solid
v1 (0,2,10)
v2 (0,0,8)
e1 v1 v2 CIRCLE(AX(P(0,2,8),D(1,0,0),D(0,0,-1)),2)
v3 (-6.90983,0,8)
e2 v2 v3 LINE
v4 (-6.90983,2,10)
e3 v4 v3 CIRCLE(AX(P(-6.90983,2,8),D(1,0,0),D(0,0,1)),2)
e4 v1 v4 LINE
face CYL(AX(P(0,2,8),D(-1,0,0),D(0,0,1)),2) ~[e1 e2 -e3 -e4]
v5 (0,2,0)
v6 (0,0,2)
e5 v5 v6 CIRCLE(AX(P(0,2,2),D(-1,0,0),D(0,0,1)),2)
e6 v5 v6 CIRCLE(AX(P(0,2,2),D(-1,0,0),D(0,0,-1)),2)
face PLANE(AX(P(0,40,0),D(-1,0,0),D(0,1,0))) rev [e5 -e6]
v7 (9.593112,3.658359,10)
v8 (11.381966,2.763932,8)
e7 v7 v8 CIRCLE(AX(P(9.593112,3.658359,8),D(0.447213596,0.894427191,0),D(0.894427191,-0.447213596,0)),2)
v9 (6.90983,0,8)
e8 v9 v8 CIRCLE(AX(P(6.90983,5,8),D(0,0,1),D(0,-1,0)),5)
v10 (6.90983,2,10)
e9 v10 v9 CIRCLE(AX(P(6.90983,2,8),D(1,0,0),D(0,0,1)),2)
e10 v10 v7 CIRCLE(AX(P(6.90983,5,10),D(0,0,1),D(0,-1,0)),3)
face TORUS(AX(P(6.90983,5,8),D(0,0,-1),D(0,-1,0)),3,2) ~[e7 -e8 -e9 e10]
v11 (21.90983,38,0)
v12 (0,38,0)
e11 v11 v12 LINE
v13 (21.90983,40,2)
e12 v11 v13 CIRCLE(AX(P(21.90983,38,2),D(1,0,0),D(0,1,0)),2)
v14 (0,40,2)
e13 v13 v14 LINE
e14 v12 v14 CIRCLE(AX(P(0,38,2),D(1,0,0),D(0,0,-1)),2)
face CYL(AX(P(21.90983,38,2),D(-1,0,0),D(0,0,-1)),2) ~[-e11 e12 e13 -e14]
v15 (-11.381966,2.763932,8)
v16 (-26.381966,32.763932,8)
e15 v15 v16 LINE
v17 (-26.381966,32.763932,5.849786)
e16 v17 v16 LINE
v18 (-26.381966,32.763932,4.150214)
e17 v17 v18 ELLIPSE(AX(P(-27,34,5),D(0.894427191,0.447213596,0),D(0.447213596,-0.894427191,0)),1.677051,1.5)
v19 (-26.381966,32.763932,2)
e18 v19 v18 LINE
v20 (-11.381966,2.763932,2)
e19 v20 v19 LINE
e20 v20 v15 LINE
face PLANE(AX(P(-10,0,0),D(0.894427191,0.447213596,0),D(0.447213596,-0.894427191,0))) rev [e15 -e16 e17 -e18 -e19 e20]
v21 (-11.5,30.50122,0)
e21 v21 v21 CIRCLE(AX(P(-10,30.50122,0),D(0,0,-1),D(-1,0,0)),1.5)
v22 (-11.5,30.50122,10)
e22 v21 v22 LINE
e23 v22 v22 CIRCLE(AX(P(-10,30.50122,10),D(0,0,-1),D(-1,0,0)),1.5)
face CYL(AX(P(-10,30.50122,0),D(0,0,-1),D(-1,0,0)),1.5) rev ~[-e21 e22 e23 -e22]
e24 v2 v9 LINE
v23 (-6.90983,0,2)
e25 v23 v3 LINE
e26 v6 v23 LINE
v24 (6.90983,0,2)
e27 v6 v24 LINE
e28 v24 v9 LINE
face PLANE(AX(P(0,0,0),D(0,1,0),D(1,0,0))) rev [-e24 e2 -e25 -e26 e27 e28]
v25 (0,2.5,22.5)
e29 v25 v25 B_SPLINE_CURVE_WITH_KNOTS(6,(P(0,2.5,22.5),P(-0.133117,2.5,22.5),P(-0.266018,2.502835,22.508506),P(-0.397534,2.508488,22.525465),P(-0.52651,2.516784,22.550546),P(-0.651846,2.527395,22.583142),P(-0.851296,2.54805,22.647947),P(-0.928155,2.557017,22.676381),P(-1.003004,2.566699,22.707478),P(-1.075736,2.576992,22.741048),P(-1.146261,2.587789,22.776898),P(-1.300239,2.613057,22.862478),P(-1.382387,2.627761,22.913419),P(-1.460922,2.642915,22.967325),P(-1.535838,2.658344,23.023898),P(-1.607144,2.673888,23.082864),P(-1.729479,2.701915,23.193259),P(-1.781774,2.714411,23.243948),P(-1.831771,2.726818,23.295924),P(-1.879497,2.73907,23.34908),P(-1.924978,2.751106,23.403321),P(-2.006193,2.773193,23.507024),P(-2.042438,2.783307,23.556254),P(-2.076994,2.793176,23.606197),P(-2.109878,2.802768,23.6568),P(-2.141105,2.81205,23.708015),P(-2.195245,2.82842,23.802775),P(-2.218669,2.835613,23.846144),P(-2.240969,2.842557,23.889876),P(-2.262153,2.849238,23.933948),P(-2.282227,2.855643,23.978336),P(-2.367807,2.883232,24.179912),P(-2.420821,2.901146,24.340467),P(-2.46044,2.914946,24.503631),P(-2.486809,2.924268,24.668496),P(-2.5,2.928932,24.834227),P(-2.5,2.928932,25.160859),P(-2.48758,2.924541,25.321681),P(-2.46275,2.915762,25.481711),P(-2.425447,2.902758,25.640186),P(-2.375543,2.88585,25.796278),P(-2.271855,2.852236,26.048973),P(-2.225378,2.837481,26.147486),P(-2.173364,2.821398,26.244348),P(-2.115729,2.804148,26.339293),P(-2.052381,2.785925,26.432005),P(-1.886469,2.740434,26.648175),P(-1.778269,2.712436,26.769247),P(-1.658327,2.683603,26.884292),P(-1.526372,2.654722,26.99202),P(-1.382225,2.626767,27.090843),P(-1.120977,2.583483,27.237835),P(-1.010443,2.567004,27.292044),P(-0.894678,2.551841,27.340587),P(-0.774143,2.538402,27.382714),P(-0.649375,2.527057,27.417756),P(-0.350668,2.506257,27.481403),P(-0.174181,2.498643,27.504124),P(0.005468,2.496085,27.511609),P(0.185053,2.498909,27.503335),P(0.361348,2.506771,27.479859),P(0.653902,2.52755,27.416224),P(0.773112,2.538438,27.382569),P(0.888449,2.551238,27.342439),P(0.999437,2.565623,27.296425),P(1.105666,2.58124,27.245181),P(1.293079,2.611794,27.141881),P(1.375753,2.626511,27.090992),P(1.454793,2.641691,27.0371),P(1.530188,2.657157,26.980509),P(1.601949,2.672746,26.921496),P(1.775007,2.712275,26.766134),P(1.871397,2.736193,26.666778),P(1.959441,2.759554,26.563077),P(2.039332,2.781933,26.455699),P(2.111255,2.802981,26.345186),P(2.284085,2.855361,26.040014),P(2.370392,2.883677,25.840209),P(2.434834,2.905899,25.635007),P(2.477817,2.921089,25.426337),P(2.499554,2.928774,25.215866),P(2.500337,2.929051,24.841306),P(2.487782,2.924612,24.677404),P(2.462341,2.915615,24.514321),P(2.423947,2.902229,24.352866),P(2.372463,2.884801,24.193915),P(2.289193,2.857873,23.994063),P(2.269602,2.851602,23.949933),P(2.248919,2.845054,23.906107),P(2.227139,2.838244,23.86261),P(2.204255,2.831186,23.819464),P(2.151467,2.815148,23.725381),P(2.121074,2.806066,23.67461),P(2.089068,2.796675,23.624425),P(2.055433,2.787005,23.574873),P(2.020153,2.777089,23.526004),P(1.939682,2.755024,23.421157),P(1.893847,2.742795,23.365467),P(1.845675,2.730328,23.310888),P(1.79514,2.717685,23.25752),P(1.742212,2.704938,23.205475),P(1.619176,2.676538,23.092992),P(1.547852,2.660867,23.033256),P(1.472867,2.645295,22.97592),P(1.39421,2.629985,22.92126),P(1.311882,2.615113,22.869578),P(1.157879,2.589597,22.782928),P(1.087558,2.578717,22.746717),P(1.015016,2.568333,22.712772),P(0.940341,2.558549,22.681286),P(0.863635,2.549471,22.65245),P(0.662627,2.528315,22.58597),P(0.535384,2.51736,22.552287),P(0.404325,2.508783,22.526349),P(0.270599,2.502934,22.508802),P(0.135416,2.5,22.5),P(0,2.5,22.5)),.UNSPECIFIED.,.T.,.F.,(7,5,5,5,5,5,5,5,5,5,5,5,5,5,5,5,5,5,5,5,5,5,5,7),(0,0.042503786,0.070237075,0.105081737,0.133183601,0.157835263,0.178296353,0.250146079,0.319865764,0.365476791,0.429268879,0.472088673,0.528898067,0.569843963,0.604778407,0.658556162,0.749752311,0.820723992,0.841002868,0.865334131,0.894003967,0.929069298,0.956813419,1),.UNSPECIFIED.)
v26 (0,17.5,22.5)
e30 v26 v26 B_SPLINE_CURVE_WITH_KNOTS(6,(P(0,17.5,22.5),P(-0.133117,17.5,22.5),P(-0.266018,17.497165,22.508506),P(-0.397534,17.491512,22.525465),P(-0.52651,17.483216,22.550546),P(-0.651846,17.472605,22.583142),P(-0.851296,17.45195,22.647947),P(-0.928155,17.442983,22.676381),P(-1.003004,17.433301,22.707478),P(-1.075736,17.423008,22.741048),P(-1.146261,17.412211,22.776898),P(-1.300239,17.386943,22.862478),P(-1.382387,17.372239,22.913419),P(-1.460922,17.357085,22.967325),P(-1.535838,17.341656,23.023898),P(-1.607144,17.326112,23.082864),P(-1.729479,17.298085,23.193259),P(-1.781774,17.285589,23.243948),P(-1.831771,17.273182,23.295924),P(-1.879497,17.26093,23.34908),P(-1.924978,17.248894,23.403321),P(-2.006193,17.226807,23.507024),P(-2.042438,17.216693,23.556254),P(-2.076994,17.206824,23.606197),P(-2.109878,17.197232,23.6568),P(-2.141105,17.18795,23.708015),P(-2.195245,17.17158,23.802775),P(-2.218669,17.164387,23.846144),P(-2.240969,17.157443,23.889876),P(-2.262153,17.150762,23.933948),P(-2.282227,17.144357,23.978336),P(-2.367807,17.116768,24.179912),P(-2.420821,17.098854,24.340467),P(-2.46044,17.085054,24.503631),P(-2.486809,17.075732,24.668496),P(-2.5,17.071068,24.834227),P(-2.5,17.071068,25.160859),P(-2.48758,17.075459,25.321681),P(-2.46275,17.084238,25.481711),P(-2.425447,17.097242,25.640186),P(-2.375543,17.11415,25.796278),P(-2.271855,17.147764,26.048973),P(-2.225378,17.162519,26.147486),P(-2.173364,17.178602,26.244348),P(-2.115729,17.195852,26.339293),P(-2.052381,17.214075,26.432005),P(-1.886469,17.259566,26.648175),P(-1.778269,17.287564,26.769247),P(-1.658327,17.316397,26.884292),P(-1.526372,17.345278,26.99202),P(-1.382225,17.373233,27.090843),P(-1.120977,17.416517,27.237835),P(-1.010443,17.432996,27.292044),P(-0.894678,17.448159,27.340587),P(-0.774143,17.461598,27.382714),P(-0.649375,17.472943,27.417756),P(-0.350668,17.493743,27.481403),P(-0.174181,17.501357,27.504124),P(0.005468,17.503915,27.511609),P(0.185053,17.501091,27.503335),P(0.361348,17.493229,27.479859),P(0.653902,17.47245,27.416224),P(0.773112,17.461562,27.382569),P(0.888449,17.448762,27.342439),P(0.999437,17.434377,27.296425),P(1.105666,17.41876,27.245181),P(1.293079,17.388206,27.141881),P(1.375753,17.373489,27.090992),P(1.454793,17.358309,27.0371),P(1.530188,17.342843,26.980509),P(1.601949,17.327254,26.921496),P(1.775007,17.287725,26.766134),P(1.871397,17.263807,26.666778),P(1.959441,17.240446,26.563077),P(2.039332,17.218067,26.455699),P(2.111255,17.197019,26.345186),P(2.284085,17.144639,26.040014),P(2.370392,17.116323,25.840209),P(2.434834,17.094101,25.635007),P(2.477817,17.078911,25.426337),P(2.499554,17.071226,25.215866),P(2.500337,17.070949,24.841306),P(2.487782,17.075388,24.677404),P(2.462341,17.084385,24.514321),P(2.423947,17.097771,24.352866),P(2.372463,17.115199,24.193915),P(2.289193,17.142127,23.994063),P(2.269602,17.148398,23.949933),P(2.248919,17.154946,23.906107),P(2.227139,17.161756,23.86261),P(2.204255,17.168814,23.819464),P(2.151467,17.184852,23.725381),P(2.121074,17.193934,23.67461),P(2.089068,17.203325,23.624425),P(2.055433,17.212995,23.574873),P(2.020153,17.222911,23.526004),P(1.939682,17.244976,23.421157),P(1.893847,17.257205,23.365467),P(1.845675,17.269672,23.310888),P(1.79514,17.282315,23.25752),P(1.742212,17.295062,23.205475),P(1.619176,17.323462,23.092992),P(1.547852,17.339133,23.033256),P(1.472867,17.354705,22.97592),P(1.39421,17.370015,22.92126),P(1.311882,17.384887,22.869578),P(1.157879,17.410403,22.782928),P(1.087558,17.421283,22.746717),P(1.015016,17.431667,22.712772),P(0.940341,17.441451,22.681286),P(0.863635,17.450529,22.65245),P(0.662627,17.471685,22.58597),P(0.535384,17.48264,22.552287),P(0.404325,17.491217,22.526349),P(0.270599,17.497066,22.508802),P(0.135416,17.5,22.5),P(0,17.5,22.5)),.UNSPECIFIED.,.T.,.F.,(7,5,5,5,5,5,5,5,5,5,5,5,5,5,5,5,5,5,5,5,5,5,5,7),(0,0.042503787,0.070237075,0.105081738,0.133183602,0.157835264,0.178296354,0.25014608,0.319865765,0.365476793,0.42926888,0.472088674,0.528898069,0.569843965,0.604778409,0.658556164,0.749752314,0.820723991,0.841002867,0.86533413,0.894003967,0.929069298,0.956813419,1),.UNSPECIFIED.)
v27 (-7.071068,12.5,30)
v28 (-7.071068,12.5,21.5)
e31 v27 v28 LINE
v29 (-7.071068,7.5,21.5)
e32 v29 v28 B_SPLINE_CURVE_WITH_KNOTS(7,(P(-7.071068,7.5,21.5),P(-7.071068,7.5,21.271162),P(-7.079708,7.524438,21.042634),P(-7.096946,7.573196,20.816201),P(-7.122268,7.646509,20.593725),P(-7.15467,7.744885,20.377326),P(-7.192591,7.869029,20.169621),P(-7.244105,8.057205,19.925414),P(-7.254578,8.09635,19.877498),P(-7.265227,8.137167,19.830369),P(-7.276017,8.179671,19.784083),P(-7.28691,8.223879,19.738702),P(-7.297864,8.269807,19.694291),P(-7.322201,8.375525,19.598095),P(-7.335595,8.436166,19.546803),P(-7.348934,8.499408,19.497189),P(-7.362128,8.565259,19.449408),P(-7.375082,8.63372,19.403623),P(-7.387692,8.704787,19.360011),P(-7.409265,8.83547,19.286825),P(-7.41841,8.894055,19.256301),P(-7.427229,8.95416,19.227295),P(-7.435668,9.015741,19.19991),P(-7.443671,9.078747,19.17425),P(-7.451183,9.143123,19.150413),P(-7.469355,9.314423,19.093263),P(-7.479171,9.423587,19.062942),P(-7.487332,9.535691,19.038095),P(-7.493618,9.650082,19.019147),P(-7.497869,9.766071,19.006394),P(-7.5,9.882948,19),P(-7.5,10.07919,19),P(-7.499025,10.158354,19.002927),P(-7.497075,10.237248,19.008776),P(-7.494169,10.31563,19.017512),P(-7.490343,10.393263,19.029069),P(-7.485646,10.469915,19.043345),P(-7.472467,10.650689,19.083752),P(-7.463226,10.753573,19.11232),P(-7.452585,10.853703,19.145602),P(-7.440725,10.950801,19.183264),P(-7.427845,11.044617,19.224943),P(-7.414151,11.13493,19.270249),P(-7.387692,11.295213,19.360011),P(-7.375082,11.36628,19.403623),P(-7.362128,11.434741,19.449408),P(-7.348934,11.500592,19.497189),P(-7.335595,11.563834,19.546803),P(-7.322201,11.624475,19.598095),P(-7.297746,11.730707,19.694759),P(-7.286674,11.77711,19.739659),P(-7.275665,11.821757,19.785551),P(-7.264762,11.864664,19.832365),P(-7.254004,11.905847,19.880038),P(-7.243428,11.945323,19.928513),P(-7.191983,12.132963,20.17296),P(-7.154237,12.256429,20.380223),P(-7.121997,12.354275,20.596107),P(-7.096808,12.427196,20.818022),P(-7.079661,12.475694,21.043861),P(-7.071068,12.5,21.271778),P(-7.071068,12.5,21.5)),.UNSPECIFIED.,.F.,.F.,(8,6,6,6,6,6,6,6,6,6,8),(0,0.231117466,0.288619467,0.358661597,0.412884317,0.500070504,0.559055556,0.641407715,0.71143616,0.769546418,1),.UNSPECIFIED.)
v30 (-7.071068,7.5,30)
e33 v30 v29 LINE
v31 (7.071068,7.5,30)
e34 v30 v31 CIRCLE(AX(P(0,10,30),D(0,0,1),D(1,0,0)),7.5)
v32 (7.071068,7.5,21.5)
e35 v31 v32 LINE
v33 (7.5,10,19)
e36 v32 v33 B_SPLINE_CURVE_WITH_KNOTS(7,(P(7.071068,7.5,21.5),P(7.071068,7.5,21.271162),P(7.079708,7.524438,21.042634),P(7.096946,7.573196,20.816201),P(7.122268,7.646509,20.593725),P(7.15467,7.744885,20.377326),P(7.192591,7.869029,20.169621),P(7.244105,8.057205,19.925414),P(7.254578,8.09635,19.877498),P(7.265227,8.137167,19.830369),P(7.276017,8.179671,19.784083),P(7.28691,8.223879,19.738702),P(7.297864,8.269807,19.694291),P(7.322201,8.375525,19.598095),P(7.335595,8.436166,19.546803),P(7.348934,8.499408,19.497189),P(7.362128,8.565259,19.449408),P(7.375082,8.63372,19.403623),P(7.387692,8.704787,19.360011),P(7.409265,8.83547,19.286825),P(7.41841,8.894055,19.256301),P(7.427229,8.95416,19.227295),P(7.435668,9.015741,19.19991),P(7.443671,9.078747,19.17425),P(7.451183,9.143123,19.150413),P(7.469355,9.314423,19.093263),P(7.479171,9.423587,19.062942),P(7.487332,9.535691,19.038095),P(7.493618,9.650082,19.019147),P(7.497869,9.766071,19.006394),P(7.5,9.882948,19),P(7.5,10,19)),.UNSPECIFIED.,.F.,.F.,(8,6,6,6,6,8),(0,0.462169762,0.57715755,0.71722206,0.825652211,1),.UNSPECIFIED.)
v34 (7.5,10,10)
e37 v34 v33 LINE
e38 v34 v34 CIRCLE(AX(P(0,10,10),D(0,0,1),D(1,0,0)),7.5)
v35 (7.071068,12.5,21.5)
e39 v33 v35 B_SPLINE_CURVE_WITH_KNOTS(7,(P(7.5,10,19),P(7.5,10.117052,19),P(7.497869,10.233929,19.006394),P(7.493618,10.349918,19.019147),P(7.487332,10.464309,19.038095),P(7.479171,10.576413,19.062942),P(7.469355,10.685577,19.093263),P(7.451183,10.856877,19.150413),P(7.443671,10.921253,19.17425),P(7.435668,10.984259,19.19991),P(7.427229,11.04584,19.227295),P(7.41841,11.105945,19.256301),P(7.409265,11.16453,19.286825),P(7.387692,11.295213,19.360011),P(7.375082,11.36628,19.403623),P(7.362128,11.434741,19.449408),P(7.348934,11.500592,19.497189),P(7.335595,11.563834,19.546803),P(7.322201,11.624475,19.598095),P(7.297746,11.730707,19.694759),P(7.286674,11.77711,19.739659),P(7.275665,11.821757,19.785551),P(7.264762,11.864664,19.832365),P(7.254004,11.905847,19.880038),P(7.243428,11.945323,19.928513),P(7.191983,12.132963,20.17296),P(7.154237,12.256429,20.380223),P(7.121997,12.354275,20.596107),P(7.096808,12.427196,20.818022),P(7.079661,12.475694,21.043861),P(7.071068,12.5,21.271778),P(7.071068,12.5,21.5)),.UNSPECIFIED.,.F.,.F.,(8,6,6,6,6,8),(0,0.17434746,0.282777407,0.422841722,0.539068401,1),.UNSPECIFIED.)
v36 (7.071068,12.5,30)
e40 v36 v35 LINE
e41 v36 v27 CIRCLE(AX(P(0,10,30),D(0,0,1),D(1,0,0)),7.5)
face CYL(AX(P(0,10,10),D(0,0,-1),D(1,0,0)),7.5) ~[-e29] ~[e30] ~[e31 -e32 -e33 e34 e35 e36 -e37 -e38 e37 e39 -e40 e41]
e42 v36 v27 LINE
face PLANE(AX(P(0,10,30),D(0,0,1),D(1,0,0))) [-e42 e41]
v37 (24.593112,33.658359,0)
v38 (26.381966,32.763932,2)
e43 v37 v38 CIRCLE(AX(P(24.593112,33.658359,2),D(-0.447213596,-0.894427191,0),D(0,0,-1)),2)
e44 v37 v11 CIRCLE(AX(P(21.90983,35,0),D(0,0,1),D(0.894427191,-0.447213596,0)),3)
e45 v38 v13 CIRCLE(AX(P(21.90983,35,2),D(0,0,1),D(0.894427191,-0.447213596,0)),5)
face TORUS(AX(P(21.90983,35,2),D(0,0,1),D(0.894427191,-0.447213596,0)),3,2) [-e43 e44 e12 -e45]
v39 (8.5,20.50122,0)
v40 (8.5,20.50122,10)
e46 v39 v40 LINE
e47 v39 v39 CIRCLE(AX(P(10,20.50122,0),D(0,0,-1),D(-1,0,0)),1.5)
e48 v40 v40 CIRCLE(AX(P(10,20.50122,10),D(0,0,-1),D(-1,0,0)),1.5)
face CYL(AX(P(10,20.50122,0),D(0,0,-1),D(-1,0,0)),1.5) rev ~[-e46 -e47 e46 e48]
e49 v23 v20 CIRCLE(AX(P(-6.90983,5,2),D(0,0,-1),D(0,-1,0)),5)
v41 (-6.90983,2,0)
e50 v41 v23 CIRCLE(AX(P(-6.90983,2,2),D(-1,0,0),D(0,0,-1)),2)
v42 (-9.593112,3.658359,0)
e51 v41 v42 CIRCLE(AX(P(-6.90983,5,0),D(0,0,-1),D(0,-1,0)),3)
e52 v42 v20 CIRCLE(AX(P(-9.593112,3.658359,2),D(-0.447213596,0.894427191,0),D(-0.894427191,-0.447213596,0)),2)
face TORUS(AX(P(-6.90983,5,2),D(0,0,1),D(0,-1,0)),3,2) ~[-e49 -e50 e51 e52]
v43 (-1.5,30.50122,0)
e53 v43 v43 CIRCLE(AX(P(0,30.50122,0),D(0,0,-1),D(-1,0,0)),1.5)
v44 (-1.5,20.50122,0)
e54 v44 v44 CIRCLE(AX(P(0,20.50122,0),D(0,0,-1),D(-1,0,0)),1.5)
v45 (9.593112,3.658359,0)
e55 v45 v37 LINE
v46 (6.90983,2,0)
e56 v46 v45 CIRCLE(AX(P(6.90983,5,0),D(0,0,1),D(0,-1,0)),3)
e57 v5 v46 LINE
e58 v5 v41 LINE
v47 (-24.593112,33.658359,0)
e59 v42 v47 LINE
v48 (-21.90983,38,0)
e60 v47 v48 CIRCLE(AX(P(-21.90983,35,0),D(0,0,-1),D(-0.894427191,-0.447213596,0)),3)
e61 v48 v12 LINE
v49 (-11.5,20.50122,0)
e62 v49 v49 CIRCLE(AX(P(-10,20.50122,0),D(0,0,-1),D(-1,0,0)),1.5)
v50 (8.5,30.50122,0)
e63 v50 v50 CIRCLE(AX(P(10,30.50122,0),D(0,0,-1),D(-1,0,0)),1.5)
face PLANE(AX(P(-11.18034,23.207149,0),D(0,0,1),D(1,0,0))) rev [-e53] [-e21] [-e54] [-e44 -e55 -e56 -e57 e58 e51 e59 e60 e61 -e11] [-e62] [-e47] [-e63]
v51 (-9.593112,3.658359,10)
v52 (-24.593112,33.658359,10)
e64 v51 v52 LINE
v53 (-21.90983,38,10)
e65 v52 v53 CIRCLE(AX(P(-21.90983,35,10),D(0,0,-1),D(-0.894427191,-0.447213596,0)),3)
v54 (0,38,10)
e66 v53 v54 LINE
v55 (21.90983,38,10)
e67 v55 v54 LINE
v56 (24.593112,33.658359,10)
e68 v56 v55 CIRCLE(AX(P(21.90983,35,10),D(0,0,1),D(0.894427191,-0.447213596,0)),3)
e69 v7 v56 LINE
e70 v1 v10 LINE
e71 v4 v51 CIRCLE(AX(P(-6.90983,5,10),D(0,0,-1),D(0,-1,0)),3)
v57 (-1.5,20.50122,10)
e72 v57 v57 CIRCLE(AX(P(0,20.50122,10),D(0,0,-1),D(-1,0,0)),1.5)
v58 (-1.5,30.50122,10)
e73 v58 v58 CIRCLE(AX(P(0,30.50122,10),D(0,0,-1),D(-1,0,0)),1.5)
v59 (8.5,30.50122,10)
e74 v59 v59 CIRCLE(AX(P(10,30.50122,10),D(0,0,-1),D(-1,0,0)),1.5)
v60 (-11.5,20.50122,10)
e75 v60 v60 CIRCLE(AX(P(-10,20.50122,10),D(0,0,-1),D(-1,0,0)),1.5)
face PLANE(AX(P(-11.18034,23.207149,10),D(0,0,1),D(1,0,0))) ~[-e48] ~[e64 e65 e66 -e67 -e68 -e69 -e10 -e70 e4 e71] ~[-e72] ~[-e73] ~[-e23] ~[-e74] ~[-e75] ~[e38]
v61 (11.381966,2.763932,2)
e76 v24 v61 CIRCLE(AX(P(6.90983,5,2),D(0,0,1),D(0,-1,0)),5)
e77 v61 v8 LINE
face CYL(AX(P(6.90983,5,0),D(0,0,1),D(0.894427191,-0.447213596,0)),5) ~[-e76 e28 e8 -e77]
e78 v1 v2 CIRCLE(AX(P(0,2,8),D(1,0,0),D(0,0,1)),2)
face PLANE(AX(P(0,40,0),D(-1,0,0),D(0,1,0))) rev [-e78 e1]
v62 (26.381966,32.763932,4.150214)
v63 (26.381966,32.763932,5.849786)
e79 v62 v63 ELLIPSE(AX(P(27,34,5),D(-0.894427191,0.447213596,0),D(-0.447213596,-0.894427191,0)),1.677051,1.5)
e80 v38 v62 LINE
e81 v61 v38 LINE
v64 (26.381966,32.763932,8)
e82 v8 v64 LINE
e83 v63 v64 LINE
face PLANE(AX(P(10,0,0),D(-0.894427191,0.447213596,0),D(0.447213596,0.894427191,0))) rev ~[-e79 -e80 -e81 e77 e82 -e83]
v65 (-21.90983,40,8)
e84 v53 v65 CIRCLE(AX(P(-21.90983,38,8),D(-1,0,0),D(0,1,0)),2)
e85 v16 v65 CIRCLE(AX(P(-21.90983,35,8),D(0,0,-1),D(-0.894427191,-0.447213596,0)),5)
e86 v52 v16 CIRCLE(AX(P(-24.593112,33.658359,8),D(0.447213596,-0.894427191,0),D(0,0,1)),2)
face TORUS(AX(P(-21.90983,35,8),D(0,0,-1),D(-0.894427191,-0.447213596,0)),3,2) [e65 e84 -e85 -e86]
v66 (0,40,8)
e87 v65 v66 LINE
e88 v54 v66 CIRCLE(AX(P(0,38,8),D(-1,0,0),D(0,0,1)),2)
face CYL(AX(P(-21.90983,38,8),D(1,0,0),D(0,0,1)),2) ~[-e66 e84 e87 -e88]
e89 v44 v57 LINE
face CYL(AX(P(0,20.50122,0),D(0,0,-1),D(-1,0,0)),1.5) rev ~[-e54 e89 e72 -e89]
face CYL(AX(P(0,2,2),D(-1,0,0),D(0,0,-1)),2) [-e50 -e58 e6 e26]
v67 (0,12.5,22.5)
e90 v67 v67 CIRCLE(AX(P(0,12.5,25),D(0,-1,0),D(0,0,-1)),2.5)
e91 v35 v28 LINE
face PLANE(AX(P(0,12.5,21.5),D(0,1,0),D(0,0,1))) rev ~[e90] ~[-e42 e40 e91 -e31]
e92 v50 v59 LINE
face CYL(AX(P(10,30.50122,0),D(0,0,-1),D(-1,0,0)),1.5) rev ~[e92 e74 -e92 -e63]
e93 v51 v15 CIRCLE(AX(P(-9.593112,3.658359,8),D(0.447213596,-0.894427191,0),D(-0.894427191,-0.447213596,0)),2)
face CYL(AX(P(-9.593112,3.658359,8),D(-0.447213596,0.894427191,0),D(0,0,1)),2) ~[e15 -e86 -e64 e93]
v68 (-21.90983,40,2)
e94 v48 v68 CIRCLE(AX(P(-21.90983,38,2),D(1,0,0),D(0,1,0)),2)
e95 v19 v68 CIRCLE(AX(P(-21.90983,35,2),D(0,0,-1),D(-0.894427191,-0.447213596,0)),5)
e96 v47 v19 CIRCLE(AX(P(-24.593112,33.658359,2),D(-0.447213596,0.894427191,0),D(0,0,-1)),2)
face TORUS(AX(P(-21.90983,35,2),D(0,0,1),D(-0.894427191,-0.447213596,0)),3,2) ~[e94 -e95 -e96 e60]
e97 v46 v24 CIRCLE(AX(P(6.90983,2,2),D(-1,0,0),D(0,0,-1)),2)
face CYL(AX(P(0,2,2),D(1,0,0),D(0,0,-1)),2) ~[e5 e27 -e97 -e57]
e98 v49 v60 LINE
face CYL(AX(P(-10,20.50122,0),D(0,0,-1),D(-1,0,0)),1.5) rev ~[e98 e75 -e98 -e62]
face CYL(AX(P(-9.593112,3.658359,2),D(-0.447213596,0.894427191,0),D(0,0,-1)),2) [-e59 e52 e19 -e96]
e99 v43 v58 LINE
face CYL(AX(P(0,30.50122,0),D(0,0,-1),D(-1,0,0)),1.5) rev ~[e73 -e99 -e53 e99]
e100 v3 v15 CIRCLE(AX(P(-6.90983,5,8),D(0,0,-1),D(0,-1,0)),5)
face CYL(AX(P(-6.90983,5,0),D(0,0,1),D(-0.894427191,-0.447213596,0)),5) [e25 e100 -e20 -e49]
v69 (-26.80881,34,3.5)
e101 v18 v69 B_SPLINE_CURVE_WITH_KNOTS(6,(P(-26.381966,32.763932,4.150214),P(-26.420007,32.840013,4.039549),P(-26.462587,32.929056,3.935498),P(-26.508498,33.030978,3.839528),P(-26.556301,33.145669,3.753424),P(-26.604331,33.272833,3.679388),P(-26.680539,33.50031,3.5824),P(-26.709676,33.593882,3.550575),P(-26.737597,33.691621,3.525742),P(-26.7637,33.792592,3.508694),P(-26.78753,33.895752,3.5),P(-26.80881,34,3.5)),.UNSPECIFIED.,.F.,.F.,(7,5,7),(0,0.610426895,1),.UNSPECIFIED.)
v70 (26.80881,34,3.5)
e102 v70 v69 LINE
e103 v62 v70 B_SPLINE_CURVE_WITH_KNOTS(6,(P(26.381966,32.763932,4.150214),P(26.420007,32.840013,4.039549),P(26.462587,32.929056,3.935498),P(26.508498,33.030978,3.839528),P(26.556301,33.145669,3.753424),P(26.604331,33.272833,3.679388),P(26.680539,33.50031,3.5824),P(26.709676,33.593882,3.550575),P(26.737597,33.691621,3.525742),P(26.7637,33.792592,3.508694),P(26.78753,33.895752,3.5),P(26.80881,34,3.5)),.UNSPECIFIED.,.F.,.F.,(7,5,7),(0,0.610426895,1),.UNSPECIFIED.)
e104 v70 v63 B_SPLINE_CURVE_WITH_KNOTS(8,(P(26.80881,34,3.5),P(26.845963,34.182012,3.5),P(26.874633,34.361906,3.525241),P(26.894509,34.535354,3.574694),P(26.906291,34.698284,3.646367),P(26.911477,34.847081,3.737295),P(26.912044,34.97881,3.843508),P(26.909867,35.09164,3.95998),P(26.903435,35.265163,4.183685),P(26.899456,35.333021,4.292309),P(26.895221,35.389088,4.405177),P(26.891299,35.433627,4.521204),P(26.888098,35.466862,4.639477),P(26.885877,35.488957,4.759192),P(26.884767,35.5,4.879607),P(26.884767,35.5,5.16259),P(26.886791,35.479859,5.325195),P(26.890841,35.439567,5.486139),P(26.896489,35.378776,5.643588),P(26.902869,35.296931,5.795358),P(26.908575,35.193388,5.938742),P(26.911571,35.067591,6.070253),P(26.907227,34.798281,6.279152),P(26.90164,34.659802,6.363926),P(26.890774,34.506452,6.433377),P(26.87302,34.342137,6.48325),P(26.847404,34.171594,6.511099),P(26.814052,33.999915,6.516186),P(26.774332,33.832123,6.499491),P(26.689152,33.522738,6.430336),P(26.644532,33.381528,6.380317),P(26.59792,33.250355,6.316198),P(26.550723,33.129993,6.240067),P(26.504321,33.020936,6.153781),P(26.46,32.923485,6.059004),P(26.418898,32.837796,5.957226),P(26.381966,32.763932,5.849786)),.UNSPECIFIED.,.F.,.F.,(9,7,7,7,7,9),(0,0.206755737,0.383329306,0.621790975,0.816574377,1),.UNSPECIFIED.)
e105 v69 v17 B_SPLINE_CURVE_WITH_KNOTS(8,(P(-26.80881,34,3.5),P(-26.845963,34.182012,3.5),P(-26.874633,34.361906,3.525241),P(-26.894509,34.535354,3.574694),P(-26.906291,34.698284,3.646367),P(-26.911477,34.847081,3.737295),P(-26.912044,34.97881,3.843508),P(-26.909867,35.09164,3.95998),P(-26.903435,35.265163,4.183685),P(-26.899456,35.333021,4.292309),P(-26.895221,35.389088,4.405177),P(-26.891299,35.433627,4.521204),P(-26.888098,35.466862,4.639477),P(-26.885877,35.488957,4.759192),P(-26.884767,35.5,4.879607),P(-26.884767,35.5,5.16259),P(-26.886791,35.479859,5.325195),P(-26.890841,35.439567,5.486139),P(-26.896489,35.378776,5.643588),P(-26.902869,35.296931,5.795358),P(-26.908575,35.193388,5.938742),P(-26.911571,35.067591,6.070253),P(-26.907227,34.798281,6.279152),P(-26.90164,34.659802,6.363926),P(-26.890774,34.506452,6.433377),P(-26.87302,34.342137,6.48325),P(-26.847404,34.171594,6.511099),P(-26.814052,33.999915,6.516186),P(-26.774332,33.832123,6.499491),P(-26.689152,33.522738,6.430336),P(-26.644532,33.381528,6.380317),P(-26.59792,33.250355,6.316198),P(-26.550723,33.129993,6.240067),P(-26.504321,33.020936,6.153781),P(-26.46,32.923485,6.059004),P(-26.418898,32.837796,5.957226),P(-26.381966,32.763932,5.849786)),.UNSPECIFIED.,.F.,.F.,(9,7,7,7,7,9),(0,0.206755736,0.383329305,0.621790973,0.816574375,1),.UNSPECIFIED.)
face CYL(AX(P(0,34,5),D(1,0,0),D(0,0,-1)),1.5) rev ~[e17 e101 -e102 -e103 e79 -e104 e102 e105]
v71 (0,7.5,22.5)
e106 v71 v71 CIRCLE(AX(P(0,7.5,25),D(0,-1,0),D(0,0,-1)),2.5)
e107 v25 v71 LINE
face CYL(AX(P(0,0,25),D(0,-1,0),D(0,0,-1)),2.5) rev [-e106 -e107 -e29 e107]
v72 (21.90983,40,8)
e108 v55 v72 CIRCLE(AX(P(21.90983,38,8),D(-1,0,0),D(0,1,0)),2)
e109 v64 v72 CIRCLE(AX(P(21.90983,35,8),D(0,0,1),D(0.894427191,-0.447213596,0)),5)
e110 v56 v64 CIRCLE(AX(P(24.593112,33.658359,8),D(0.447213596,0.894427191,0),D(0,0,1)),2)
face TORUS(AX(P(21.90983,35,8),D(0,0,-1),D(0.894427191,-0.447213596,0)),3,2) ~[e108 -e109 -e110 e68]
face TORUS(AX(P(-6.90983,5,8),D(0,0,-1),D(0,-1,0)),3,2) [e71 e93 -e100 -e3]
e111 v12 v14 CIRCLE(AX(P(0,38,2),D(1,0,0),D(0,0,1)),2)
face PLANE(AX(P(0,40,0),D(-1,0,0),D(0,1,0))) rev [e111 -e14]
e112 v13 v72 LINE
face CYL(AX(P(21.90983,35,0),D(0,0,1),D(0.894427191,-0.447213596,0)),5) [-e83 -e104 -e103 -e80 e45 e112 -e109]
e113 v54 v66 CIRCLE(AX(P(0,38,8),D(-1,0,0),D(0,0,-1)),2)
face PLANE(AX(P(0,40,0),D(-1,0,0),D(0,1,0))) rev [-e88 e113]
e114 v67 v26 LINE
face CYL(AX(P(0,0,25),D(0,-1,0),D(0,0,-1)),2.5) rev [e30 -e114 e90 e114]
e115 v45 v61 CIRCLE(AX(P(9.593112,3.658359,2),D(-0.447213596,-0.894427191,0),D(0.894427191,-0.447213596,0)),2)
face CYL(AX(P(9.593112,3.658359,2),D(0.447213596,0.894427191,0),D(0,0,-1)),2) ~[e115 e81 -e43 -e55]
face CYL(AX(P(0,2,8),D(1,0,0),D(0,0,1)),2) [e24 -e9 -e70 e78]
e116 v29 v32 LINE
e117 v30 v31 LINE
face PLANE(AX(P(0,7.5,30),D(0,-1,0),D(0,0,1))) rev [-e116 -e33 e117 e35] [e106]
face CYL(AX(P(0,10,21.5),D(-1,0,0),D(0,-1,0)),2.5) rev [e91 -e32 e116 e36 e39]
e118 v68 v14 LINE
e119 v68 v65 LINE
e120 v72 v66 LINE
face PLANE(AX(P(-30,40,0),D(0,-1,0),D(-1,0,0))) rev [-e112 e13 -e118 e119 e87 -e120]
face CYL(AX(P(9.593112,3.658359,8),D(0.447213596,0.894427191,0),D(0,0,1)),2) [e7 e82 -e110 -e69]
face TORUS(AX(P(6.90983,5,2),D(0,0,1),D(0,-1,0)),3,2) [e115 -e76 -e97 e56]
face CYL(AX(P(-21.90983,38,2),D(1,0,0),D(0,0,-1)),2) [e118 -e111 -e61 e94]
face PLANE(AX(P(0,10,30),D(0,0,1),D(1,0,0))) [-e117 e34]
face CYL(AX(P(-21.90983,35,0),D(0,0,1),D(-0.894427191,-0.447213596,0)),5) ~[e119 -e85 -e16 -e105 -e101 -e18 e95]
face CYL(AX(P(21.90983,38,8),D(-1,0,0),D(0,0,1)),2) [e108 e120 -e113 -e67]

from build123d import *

# Parameters (mm, degrees)
BOSS_EXTRUDE1_DEPTH = 10
FILLET1_R           = 5
FILLET2_R           = 5
FILLET3_R           = 2
FILLET4_R           = 2
FILLET5_R           = 5
FILLET6_R           = 5
FILLET7_R           = 2
FILLET8_R           = 2
SKETCH2_R           = 7.5
BOSS_EXTRUDE2_DEPTH = 20
CUT_EXTRUDE1_DEPTH  = 57.781501862
SKETCH5_R           = 2.5
CUT_EXTRUDE3_DEPTH  = 57.781501914
SKETCH11_R          = 1.5
CUT_EXTRUDE6_DEPTH  = 57.781501914
SKETCH12_R          = 1.5
CUT_EXTRUDE7_DEPTH  = 57.781501914


with BuildPart() as part:
    # Sketch1 → Boss-Extrude1 (new body)
    with BuildSketch(Plane.XY):
        Polygon((0, 0), (10, 0), (30, 40), (0, 40), align=None)
    boss_extrude1 = extrude(amount=BOSS_EXTRUDE1_DEPTH)

    # Fillet1
    fillet1_edges = [part.edges().sort_by_distance(p)[0] for p in [
        (30, 40, 5),
    ]]
    fillet(fillet1_edges, radius=FILLET1_R)

    # Fillet2
    fillet2_edges = [part.edges().sort_by_distance(p)[0] for p in [
        (10, 0, 5),
    ]]
    fillet(fillet2_edges, radius=FILLET2_R)

    # Fillet3
    fillet3_edges = [part.edges().sort_by_distance(p)[0] for p in [
        (10.954915028, 40, 10),
        (26.163084098, 37.628655561, 10),
        (18.881966011, 17.763932023, 10),
        (9.538485617, 0.746745958, 10),
        (3.454915028, 0, 10),
    ]]
    fillet(fillet3_edges, radius=FILLET3_R)

    # Fillet4
    fillet4_edges = [part.edges().sort_by_distance(p)[0] for p in [
        (10.954915028, 40, 0),
        (26.163084098, 37.628655561, 0),
        (18.881966011, 17.763932023, 0),
        (9.538485617, 0.746745958, 0),
        (3.454915028, 0, 0),
    ]]
    fillet(fillet4_edges, radius=FILLET4_R)

    # Mirror1: Boss-Extrude1 across plane
    add(boss_extrude1.mirror(Plane(origin=(0, 0, 0), x_dir=(0, 0, 1), z_dir=(1, 0, 0))))

    # Fillet5
    fillet5_edges = [part.edges().sort_by_distance(p)[0] for p in [
        (-30, 40, 5),
    ]]
    fillet(fillet5_edges, radius=FILLET5_R)

    # Fillet6
    fillet6_edges = [part.edges().sort_by_distance(p)[0] for p in [
        (-10, 0, 5),
    ]]
    fillet(fillet6_edges, radius=FILLET6_R)

    # Fillet7
    fillet7_edges = [part.edges().sort_by_distance(p)[0] for p in [
        (-3.454915028, 0, 0),
        (-9.538485617, 0.746745958, 0),
        (-10.954915028, 40, 0),
        (-26.163084098, 37.628655561, 0),
        (-18.881966011, 17.763932023, 0),
    ]]
    fillet(fillet7_edges, radius=FILLET7_R)

    # Fillet8
    fillet8_edges = [part.edges().sort_by_distance(p)[0] for p in [
        (-3.454915028, 0, 10),
        (-9.538485617, 0.746745958, 10),
        (-10.954915028, 40, 10),
        (-26.163084098, 37.628655561, 10),
        (-18.881966011, 17.763932023, 10),
    ]]
    fillet(fillet8_edges, radius=FILLET8_R)

    # Sketch2 → Boss-Extrude2 (add)
    with BuildSketch(Plane.XY.offset(10)):
        with Locations((0, 10)):
            Circle(SKETCH2_R)
    extrude(amount=BOSS_EXTRUDE2_DEPTH)

    # Sketch4 → Cut-Extrude1 (cut, through all)
    with BuildSketch(Plane(origin=(0, 0, 0), x_dir=(0, 0, -1), z_dir=(1, 0, 0))):
        with BuildLine():
            Line((-21.5, 12.5), (-30, 12.5))
            Line((-30, 12.5), (-30, 7.5))
            Line((-30, 7.5), (-21.5, 7.5))
            ThreePointArc((-21.5, 7.5), (-19, 10), (-21.5, 12.5))
        make_face()
    cut_extrude1 = extrude(amount=-CUT_EXTRUDE1_DEPTH, mode=Mode.SUBTRACT)

    # Mirror2: Cut-Extrude1 across plane
    add(cut_extrude1.mirror(Plane(origin=(0, 0, 0), x_dir=(0, 0, 1), z_dir=(1, 0, 0))), mode=Mode.SUBTRACT)

    # Sketch5 → Cut-Extrude3 (cut, through all)
    with BuildSketch(Plane(origin=(0, 0, 0), x_dir=(1, 0, 0), z_dir=(0, 1, 0))):
        with Locations(Location((0, -25, 0), (0, 0, 90))):
            Circle(SKETCH5_R)
    extrude(amount=CUT_EXTRUDE3_DEPTH, mode=Mode.SUBTRACT)

    # Sketch11 → Cut-Extrude6 (cut, through all)
    with BuildSketch(Plane(origin=(0, 0, 0), x_dir=(-1, 0, 0), z_dir=(0, 0, -1))):
        with Locations((0, 30.50121957)):
            Circle(SKETCH11_R)
        with Locations((-10, 30.50121957)):
            Circle(SKETCH11_R)
        with Locations((10, 30.50121957)):
            Circle(SKETCH11_R)
        with Locations((0, 20.50121957)):
            Circle(SKETCH11_R)
        with Locations((10, 20.50121957)):
            Circle(SKETCH11_R)
        with Locations((-10, 20.50121957)):
            Circle(SKETCH11_R)
    extrude(amount=-CUT_EXTRUDE6_DEPTH, mode=Mode.SUBTRACT)

    # Sketch12 → Cut-Extrude7 (cut, through all)
    with BuildSketch(Plane(origin=(0, 0, 0), x_dir=(0, 0, -1), z_dir=(1, 0, 0))):
        with Locations((-5, 34)):
            Circle(SKETCH12_R)
    cut_extrude7 = extrude(amount=-CUT_EXTRUDE7_DEPTH, mode=Mode.SUBTRACT)

    # Mirror3: Cut-Extrude7 across plane
    add(cut_extrude7.mirror(Plane(origin=(0, 0, 0), x_dir=(0, 0, 1), z_dir=(1, 0, 0))), mode=Mode.SUBTRACT)


solid = part.part
